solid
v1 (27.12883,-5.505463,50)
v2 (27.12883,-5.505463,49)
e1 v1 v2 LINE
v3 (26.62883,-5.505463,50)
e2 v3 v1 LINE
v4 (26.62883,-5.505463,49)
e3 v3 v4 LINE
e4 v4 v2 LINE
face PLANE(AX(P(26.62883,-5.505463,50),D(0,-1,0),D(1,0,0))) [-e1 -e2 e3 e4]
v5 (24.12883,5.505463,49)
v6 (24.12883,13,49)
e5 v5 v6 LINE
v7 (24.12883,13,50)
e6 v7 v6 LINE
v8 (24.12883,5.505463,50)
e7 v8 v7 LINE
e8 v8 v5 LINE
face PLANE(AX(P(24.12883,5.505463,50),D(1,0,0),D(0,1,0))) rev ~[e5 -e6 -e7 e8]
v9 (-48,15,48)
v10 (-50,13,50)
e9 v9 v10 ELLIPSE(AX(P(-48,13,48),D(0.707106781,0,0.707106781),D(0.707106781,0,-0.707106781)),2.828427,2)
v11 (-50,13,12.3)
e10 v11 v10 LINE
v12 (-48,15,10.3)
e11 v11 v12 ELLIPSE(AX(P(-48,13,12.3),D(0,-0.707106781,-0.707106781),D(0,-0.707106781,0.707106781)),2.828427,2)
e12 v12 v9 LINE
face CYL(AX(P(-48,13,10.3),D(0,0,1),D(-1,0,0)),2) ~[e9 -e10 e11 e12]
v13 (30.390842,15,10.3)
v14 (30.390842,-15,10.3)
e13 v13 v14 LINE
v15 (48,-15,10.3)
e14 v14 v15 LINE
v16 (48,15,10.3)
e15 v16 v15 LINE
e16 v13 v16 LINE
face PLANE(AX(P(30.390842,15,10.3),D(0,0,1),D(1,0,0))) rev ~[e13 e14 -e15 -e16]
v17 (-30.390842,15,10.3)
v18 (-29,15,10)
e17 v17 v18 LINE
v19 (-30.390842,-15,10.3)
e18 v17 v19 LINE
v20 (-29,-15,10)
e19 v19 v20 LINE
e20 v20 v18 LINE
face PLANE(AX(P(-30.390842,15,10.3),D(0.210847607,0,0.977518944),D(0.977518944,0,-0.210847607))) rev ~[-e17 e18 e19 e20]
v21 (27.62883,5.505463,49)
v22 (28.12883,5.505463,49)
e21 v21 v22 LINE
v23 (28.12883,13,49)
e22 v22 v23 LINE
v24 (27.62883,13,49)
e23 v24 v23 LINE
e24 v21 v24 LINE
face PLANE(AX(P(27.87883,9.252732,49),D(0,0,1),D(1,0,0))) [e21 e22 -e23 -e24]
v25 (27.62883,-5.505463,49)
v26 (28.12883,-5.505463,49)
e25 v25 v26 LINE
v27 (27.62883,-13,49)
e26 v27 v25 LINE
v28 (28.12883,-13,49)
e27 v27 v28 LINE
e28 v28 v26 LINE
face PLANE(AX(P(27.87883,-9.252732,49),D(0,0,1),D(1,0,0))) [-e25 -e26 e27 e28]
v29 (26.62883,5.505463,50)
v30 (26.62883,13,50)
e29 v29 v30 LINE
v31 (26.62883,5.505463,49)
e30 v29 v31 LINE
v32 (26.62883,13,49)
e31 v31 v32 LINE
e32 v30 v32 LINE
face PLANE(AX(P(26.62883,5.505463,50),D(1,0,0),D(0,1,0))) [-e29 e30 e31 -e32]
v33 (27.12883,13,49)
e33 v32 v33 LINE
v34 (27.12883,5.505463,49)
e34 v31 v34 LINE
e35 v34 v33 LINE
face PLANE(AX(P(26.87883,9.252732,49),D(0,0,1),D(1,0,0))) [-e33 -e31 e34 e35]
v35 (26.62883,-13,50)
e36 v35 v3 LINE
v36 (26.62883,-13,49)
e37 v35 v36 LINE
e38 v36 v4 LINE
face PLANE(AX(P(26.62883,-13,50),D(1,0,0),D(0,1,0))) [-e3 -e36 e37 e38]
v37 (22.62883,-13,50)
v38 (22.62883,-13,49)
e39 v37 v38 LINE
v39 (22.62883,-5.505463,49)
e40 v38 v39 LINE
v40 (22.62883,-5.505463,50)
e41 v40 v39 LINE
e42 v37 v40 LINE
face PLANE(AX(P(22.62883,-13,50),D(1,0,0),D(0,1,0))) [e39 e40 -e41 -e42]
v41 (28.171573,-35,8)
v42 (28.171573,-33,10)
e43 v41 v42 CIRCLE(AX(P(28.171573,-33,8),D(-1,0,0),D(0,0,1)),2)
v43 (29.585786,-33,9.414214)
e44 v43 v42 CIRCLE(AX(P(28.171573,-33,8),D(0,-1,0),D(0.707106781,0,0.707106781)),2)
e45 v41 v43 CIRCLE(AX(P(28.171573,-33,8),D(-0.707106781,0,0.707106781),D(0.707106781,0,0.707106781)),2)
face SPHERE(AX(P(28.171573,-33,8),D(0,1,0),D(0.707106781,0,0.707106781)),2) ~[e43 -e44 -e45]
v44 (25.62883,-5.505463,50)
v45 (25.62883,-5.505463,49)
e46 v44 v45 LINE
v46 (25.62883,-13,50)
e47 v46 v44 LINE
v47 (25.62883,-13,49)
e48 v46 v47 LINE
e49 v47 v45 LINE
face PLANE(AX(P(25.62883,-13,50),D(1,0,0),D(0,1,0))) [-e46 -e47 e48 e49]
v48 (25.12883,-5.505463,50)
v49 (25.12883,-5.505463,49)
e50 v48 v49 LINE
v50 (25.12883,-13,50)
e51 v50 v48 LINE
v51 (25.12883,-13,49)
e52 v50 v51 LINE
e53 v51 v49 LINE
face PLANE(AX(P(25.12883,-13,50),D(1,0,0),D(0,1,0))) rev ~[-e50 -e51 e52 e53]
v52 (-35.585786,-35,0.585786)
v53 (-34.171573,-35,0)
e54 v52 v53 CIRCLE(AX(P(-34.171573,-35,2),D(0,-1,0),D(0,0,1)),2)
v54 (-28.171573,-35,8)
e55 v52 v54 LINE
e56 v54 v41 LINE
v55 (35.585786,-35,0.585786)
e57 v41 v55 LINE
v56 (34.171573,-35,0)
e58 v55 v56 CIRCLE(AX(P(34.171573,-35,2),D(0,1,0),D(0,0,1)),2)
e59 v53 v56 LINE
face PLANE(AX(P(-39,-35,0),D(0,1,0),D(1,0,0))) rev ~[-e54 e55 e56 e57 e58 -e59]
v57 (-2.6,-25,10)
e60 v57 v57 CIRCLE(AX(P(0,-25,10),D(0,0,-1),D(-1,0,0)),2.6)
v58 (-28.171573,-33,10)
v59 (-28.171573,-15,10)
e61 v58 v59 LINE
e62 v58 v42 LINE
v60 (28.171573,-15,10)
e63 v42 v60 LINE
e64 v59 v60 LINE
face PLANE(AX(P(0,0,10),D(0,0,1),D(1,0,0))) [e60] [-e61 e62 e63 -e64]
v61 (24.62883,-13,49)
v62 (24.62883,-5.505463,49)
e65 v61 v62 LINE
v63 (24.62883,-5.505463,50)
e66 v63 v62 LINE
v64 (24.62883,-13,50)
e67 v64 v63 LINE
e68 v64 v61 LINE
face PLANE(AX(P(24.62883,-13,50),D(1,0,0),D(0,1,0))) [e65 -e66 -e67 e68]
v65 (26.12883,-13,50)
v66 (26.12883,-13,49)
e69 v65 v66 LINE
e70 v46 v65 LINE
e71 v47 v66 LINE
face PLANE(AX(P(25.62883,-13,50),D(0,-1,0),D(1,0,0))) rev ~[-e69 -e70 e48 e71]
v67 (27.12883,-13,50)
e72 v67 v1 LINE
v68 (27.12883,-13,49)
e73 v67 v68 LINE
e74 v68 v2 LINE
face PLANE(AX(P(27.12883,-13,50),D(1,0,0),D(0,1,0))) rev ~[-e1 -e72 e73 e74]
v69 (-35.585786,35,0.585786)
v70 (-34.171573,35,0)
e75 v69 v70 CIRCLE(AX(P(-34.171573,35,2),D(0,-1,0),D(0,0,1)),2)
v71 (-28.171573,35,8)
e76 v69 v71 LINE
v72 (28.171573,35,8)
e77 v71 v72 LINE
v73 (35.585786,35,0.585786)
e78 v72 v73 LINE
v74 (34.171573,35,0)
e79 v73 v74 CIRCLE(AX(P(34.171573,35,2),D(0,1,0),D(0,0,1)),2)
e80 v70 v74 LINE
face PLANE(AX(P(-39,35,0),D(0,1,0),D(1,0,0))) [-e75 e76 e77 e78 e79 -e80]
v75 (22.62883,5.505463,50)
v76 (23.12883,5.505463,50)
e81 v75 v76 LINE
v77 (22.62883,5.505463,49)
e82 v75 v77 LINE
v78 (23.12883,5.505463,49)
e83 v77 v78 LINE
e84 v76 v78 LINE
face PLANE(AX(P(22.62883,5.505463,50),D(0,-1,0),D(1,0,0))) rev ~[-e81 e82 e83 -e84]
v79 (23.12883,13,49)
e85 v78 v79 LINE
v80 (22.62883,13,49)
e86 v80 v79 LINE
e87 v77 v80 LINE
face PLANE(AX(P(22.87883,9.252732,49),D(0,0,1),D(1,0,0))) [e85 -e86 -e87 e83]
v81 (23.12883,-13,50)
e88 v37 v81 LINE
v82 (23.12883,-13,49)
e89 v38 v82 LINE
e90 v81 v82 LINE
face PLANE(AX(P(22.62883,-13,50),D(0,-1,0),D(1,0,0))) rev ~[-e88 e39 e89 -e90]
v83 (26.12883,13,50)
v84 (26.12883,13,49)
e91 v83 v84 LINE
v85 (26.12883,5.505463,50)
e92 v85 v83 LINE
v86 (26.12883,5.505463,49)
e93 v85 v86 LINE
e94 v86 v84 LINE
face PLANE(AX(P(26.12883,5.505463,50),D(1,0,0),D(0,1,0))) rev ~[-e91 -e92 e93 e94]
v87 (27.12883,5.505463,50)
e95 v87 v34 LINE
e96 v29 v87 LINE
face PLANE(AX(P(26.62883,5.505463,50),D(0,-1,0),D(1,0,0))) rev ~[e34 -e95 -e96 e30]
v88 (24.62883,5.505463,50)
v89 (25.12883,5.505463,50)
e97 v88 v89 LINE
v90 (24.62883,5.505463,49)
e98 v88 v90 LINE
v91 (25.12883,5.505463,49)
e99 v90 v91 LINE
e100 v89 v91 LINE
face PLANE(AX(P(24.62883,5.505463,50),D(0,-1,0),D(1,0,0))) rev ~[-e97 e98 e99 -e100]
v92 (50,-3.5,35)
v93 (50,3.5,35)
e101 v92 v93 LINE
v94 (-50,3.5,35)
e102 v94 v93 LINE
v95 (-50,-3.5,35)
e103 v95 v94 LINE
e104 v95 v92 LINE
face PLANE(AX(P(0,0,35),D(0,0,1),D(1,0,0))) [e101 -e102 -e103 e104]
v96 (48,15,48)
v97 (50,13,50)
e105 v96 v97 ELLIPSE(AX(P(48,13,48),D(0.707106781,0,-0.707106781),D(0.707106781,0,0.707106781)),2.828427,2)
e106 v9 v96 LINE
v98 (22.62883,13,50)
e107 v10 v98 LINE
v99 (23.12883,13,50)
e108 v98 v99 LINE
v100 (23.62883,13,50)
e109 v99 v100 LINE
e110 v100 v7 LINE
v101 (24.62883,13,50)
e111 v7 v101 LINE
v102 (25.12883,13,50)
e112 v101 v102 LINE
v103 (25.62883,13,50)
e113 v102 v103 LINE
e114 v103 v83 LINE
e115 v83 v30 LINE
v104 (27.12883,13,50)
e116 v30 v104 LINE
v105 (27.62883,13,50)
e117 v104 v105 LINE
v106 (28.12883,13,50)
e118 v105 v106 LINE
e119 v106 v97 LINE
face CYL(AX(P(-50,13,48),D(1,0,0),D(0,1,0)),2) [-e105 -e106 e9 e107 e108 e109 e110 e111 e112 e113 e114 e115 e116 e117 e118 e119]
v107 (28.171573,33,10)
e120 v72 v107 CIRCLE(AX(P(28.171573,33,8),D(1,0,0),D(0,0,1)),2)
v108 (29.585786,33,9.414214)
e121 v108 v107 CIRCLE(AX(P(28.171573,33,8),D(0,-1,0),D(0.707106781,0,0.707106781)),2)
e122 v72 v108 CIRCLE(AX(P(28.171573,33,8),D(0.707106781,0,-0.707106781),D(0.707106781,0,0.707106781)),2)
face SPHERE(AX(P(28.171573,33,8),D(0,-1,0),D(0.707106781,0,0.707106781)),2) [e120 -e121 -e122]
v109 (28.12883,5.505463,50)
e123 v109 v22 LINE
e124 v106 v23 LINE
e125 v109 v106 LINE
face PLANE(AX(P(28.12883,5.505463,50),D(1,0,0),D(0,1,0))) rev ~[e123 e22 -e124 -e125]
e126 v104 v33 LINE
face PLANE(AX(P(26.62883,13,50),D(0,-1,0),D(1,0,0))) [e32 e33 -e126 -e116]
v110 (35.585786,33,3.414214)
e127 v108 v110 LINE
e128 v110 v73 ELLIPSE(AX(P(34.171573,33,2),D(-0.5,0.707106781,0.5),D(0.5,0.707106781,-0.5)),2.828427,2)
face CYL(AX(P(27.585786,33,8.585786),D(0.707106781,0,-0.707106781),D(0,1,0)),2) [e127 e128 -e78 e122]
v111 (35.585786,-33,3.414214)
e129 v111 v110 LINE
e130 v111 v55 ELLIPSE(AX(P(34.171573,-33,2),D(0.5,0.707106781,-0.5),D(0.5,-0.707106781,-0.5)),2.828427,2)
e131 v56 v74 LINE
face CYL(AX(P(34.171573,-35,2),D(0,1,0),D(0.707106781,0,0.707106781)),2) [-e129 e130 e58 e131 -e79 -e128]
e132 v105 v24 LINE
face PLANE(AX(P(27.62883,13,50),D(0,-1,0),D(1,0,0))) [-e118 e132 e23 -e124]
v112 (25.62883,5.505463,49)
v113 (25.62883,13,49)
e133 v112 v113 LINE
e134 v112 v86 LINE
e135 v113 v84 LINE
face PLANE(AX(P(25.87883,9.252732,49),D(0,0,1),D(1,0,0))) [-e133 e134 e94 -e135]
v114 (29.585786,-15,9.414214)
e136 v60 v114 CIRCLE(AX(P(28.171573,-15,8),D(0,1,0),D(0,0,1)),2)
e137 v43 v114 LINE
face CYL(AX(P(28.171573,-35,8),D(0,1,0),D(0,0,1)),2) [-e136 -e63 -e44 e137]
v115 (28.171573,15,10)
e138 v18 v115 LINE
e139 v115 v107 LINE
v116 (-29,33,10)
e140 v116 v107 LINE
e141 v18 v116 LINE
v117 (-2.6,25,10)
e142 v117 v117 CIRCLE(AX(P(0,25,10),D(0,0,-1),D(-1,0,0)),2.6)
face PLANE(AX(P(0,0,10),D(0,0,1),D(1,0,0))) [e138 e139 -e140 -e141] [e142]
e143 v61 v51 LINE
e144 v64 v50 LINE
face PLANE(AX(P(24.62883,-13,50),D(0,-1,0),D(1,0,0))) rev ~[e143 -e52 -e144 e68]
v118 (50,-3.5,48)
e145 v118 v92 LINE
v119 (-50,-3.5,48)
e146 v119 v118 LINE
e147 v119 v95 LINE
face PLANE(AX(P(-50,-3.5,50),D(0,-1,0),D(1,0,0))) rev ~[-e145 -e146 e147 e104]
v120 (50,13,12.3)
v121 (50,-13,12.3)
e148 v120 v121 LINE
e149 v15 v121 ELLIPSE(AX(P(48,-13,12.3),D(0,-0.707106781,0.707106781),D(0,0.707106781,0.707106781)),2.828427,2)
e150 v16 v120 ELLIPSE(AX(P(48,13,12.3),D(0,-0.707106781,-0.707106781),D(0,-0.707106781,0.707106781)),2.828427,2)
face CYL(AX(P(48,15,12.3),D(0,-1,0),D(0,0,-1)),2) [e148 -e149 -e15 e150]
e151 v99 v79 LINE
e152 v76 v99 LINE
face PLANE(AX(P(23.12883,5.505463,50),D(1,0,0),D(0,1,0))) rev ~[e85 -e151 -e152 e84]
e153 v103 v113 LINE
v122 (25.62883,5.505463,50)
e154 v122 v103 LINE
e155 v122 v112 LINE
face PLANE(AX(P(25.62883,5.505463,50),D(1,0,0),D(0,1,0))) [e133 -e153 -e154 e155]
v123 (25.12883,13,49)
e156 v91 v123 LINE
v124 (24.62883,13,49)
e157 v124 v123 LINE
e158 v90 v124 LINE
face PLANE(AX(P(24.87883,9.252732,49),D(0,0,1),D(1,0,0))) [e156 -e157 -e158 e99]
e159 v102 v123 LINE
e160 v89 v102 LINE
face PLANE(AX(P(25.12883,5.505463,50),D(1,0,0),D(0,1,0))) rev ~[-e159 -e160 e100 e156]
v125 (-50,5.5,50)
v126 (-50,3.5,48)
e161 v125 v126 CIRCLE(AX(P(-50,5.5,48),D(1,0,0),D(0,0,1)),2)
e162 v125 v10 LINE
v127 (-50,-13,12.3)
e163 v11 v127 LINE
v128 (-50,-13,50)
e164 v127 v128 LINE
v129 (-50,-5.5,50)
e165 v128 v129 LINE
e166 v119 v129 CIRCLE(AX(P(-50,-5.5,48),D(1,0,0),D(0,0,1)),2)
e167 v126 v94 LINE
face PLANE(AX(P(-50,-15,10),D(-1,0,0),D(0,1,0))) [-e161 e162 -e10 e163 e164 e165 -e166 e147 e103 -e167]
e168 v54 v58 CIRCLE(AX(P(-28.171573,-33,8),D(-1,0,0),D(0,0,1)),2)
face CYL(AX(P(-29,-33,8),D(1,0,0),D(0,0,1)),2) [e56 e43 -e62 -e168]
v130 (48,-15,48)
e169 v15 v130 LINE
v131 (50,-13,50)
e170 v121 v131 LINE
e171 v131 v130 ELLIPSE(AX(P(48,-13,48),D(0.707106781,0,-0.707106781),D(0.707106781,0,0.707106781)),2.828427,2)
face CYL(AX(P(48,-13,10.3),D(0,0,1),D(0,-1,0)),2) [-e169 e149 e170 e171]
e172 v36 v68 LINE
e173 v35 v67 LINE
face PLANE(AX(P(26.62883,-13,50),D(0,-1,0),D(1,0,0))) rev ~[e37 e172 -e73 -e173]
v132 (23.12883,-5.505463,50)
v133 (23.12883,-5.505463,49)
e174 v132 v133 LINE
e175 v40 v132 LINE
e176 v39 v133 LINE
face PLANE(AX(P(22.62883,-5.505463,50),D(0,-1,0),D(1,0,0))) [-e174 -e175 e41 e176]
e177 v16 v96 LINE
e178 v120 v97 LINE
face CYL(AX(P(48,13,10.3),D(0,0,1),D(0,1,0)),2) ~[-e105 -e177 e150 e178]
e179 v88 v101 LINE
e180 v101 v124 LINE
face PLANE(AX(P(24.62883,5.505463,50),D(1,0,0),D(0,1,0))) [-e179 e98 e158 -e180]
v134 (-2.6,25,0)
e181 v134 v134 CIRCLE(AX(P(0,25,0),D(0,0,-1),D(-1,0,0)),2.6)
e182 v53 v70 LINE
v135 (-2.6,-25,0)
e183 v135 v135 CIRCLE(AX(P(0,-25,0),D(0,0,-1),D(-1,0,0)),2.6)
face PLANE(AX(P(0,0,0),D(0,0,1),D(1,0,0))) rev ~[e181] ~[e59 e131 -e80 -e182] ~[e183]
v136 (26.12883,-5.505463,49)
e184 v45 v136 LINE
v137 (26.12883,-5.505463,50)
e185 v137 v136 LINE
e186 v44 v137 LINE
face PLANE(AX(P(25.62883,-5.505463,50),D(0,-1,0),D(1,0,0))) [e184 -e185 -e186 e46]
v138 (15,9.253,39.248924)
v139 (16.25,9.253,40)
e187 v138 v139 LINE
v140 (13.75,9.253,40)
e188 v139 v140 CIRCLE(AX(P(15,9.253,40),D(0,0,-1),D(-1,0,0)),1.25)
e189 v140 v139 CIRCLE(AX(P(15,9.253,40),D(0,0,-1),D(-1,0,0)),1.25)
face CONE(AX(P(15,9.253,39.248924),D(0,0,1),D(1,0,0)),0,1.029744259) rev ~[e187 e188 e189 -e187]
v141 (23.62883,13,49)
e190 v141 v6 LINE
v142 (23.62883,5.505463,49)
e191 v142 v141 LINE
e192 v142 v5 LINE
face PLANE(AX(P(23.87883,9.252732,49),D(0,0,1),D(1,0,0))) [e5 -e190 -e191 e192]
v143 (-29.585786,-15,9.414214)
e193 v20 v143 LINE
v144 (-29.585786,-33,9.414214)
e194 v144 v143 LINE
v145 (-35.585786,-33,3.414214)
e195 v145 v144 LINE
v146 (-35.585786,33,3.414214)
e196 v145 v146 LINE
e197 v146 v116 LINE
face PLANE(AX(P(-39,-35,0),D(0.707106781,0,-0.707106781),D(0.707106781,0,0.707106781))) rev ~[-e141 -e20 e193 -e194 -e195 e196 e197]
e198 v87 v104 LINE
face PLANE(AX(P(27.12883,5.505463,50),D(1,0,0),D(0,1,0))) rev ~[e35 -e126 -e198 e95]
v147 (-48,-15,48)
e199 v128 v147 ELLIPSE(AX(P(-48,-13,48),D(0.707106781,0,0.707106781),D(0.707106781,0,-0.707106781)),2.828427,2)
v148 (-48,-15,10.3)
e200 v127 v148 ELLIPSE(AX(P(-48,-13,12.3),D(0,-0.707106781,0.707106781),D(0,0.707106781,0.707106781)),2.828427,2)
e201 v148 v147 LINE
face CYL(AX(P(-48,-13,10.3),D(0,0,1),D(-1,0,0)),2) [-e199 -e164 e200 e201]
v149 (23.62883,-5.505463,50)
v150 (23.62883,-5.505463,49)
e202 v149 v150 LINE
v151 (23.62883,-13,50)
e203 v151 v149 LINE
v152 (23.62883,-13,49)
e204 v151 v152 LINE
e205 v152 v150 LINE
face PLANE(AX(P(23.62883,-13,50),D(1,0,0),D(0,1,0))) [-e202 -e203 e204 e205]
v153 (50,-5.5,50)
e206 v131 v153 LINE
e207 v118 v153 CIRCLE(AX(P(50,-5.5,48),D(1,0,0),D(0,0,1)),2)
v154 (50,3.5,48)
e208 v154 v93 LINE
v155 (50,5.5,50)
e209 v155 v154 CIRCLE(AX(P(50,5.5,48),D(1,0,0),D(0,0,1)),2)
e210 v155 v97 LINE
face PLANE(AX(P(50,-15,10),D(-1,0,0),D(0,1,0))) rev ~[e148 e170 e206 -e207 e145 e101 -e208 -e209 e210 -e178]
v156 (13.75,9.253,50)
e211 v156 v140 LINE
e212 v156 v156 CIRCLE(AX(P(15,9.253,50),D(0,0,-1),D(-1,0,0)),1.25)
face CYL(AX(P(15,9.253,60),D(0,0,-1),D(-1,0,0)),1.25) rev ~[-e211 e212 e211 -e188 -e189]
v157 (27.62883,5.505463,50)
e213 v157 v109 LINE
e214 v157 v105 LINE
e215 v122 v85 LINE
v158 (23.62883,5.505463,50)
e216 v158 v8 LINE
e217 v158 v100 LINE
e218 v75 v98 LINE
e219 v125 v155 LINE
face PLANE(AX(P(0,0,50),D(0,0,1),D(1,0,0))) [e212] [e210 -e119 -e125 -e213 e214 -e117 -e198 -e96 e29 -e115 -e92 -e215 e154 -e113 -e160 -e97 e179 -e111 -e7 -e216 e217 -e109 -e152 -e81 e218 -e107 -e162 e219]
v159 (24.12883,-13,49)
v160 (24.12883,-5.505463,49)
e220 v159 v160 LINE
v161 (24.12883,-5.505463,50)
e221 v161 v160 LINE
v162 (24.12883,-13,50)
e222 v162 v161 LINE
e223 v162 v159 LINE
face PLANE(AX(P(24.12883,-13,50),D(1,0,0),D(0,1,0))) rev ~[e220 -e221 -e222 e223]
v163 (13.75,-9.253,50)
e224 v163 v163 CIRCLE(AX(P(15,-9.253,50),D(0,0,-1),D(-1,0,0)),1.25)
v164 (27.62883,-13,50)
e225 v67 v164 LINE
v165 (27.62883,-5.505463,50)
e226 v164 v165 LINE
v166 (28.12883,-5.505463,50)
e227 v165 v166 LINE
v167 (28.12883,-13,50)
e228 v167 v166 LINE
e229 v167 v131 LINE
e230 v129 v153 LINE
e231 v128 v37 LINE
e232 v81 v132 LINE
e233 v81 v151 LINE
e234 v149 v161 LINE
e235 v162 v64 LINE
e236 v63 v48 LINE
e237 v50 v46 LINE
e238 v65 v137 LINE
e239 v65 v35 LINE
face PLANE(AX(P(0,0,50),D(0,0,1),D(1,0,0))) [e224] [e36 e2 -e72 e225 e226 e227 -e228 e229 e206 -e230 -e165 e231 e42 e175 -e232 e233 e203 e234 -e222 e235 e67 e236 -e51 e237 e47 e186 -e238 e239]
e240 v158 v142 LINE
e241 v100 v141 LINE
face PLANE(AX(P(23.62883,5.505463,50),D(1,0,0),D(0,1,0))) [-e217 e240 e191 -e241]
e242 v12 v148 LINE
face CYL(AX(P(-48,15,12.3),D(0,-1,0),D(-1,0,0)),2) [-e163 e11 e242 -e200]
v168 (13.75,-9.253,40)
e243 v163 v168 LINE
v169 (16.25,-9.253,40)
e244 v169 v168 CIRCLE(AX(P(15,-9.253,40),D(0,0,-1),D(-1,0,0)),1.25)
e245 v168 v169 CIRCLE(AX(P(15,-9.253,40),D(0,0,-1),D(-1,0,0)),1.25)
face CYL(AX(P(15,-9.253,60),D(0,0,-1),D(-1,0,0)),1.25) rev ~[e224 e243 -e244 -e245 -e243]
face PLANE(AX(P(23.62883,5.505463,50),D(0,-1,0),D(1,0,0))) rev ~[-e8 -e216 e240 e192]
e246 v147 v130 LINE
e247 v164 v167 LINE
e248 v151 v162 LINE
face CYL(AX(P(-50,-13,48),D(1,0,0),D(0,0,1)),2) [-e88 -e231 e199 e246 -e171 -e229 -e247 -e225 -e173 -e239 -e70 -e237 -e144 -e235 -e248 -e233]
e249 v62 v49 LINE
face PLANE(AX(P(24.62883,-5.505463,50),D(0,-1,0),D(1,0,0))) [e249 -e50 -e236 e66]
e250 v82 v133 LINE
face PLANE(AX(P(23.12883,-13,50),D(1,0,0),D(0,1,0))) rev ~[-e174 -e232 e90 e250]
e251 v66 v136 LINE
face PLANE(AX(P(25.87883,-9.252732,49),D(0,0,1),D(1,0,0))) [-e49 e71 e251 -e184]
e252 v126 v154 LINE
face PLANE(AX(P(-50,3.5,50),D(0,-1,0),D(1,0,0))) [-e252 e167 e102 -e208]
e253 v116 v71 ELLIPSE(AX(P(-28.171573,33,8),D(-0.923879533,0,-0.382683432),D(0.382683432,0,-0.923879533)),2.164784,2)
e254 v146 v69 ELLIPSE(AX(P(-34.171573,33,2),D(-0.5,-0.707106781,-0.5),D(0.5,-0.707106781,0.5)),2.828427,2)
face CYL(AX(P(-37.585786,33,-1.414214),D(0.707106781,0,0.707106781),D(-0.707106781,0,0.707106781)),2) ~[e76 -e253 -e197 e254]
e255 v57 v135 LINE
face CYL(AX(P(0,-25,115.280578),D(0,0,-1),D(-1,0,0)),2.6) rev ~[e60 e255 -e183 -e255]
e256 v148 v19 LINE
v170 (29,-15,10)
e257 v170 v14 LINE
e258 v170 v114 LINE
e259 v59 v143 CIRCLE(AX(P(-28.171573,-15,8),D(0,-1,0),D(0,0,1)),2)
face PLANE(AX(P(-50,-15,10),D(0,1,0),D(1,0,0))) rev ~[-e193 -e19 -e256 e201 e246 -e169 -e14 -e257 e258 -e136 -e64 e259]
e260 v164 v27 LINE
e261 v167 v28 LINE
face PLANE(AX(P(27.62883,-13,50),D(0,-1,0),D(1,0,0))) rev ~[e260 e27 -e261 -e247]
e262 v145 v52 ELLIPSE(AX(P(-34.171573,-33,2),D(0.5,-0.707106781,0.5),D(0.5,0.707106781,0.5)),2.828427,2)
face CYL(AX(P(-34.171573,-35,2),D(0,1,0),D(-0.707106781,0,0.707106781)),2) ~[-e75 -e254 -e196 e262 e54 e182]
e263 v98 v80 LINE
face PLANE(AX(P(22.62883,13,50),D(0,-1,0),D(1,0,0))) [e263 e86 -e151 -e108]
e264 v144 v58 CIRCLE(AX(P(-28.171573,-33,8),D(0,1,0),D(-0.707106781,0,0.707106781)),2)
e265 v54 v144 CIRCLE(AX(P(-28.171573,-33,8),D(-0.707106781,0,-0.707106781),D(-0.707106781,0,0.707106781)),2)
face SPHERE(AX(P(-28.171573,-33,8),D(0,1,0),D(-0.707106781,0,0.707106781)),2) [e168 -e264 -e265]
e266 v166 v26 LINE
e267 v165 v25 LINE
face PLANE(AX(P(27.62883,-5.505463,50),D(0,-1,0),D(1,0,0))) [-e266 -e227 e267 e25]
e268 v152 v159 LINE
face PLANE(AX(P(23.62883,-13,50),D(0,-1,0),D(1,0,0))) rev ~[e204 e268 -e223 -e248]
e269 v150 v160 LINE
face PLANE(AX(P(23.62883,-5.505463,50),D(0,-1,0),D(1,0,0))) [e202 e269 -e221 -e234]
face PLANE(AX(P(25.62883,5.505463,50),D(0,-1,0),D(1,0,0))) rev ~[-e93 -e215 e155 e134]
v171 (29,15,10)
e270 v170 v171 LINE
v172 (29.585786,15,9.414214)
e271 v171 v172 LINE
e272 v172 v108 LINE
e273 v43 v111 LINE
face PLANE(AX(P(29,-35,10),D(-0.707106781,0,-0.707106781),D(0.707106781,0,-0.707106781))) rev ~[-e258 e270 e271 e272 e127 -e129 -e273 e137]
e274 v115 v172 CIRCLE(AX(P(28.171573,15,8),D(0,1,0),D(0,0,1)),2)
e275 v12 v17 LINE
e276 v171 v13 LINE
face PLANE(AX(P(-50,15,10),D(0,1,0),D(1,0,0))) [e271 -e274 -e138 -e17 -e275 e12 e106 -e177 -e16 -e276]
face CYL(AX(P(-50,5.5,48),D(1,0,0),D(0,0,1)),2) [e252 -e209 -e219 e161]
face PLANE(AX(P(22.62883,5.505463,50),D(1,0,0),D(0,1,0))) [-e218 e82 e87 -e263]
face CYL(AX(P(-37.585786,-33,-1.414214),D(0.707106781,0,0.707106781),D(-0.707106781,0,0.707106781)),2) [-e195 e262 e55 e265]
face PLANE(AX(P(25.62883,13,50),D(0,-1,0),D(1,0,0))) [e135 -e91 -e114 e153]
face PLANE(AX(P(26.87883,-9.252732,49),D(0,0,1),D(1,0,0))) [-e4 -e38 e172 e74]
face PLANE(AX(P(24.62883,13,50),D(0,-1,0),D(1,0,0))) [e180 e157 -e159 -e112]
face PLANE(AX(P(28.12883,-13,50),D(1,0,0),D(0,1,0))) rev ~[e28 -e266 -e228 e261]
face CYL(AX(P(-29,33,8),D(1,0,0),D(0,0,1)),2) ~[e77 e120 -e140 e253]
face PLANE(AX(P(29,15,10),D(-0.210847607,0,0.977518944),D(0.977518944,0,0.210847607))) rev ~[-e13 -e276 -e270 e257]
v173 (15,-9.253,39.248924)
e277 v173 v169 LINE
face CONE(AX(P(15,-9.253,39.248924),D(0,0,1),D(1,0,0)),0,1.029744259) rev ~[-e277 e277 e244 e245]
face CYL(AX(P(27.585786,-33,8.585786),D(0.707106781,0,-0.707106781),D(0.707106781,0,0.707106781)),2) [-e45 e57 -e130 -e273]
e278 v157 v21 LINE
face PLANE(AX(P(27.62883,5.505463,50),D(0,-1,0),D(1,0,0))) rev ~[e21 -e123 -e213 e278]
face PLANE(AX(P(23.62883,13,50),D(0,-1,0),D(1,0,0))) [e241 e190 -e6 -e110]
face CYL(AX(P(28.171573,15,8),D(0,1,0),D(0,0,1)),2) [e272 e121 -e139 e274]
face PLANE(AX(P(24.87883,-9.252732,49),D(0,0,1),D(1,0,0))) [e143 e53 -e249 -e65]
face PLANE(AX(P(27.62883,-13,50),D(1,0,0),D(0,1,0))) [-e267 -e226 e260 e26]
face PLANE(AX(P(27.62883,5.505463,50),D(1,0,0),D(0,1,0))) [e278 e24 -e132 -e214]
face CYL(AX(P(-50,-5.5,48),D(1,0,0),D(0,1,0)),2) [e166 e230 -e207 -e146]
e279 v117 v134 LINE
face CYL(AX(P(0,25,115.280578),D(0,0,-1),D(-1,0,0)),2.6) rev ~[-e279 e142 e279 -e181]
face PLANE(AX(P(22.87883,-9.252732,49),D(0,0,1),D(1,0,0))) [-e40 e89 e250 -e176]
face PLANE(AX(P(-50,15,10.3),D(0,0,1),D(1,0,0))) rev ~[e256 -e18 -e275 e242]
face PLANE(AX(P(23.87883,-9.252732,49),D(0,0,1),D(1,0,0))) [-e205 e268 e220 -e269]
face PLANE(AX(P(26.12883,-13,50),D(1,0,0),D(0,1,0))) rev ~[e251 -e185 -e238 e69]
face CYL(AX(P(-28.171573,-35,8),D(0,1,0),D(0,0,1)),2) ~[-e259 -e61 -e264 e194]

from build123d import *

# Parameters (mm, degrees)
F0_W      = 78
F0_H      = 70
F1_DEPTH  = 10
F3_DEPTH  = 70
F5_D      = 5.2
F6_W      = 100
F6_H      = 30
F7_DEPTH  = 40
F8_W      = 100
F8_H      = 7
F9_DEPTH  = 15
F11_DEPTH = 50.001
F12_R     = 2
F13_W     = 0.5
F13_H     = 7.4945365116
F14_DEPTH = 1
F15_D     = 2.5
F15_DEPTH = 10
F15_TIP   = 0.7510757738


with BuildPart() as f1:
    # F0 (on Top) → F1 (new body)
    with BuildSketch(Plane.XY):
        Rectangle(F0_W, F0_H)
    extrude(amount=F1_DEPTH)

    # F2 (on face) → F3 (cut)
    with BuildSketch(Plane.XZ.offset(35)):
        Polygon((-39, 10), (-39, 0), (-29, 10), align=None)
        Polygon((29, 10), (39, 0), (39, 10), align=None)
    extrude(amount=-F3_DEPTH, mode=Mode.SUBTRACT)

    # F5 (through all)
    with Locations(Plane.XY.offset(10)):
        with Locations((0, 25), (0, -25)):
            Hole(F5_D / 2)

    # F6 (on face) → F7 (join)
    with BuildSketch(Plane.XY.offset(10)):
        Rectangle(F6_W, F6_H)
    extrude(amount=F7_DEPTH)

    # F8 (on face) → F9 (cut)
    with BuildSketch(Plane.XY.offset(50)):
        Rectangle(F8_W, F8_H)
    extrude(amount=-F9_DEPTH, mode=Mode.SUBTRACT)

    # F10 (on face) → F11 (cut, through all)
    with BuildSketch(Plane(origin=(0, 15, 0), x_dir=(-1, 0, 0), z_dir=(0, 1, 0))):
        Polygon((-50, 10), (-29, 10), (-30.3908418864, 10.3), (-50, 10.3), align=None)
        Polygon((30.3908418864, 10.3), (29, 10), (50, 10), (50, 10.3), align=None)
    extrude(amount=-F11_DEPTH, mode=Mode.SUBTRACT)

    # F12
    f12_edges = [f1.edges().sort_by_distance(p)[0] for p in [
        (29, -25, 10),
        (29, 25, 10),
        (34, 35, 5),
        (39, 0, 0),
        (34, -35, 5),
        (0, 35, 10),
        (0, -35, 10),
        (0, -15, 50),
        (0, -3.5, 50),
        (0, 3.5, 50),
        (0, 15, 50),
        (50, 15, 30.15),
        (50, -15, 30.15),
        (50, 0, 10.3),
        (-29, -25, 10),
        (-50, -15, 30.15),
        (-50, 15, 30.15),
        (-50, 0, 10.3),
        (-39, 0, 0),
        (-34, -35, 5),
        (-34, 35, 5),
    ]]
    fillet(f12_edges, radius=F12_R)

    # F13 (on face) → F14 (cut)
    with BuildSketch(Plane.XY.offset(50)):
        with Locations((27.87883, 9.2527317442)):
            Rectangle(F13_W, F13_H)
        with Locations((26.87883, 9.2527317442)):
            Rectangle(F13_W, F13_H)
        with Locations((25.87883, 9.2527317442)):
            Rectangle(F13_W, F13_H)
        with Locations((24.87883, 9.2527317442)):
            Rectangle(F13_W, F13_H)
        with Locations((23.87883, 9.2527317442)):
            Rectangle(F13_W, F13_H)
        with Locations((22.87883, 9.2527317442)):
            Rectangle(F13_W, F13_H)
        with Locations((27.87883, -9.2527317442)):
            Rectangle(F13_W, F13_H)
        with Locations((26.87883, -9.2527317442)):
            Rectangle(F13_W, F13_H)
        with Locations((25.87883, -9.2527317442)):
            Rectangle(F13_W, F13_H)
        with Locations((24.87883, -9.2527317442)):
            Rectangle(F13_W, F13_H)
        with Locations((23.87883, -9.2527317442)):
            Rectangle(F13_W, F13_H)
        with Locations((22.87883, -9.2527317442)):
            Rectangle(F13_W, F13_H)
    extrude(amount=-F14_DEPTH, mode=Mode.SUBTRACT)

    # F15
    with Locations(Plane.XY.offset(50)):
        with Locations((15, 9.253), (15, -9.253)):
            Hole(F15_D / 2, depth=F15_DEPTH)
            with Locations((0, 0, -(F15_DEPTH + F15_TIP / 2))):  # 118° drill point
                Cone(0, F15_D / 2, F15_TIP, mode=Mode.SUBTRACT)


solid = f1.part
